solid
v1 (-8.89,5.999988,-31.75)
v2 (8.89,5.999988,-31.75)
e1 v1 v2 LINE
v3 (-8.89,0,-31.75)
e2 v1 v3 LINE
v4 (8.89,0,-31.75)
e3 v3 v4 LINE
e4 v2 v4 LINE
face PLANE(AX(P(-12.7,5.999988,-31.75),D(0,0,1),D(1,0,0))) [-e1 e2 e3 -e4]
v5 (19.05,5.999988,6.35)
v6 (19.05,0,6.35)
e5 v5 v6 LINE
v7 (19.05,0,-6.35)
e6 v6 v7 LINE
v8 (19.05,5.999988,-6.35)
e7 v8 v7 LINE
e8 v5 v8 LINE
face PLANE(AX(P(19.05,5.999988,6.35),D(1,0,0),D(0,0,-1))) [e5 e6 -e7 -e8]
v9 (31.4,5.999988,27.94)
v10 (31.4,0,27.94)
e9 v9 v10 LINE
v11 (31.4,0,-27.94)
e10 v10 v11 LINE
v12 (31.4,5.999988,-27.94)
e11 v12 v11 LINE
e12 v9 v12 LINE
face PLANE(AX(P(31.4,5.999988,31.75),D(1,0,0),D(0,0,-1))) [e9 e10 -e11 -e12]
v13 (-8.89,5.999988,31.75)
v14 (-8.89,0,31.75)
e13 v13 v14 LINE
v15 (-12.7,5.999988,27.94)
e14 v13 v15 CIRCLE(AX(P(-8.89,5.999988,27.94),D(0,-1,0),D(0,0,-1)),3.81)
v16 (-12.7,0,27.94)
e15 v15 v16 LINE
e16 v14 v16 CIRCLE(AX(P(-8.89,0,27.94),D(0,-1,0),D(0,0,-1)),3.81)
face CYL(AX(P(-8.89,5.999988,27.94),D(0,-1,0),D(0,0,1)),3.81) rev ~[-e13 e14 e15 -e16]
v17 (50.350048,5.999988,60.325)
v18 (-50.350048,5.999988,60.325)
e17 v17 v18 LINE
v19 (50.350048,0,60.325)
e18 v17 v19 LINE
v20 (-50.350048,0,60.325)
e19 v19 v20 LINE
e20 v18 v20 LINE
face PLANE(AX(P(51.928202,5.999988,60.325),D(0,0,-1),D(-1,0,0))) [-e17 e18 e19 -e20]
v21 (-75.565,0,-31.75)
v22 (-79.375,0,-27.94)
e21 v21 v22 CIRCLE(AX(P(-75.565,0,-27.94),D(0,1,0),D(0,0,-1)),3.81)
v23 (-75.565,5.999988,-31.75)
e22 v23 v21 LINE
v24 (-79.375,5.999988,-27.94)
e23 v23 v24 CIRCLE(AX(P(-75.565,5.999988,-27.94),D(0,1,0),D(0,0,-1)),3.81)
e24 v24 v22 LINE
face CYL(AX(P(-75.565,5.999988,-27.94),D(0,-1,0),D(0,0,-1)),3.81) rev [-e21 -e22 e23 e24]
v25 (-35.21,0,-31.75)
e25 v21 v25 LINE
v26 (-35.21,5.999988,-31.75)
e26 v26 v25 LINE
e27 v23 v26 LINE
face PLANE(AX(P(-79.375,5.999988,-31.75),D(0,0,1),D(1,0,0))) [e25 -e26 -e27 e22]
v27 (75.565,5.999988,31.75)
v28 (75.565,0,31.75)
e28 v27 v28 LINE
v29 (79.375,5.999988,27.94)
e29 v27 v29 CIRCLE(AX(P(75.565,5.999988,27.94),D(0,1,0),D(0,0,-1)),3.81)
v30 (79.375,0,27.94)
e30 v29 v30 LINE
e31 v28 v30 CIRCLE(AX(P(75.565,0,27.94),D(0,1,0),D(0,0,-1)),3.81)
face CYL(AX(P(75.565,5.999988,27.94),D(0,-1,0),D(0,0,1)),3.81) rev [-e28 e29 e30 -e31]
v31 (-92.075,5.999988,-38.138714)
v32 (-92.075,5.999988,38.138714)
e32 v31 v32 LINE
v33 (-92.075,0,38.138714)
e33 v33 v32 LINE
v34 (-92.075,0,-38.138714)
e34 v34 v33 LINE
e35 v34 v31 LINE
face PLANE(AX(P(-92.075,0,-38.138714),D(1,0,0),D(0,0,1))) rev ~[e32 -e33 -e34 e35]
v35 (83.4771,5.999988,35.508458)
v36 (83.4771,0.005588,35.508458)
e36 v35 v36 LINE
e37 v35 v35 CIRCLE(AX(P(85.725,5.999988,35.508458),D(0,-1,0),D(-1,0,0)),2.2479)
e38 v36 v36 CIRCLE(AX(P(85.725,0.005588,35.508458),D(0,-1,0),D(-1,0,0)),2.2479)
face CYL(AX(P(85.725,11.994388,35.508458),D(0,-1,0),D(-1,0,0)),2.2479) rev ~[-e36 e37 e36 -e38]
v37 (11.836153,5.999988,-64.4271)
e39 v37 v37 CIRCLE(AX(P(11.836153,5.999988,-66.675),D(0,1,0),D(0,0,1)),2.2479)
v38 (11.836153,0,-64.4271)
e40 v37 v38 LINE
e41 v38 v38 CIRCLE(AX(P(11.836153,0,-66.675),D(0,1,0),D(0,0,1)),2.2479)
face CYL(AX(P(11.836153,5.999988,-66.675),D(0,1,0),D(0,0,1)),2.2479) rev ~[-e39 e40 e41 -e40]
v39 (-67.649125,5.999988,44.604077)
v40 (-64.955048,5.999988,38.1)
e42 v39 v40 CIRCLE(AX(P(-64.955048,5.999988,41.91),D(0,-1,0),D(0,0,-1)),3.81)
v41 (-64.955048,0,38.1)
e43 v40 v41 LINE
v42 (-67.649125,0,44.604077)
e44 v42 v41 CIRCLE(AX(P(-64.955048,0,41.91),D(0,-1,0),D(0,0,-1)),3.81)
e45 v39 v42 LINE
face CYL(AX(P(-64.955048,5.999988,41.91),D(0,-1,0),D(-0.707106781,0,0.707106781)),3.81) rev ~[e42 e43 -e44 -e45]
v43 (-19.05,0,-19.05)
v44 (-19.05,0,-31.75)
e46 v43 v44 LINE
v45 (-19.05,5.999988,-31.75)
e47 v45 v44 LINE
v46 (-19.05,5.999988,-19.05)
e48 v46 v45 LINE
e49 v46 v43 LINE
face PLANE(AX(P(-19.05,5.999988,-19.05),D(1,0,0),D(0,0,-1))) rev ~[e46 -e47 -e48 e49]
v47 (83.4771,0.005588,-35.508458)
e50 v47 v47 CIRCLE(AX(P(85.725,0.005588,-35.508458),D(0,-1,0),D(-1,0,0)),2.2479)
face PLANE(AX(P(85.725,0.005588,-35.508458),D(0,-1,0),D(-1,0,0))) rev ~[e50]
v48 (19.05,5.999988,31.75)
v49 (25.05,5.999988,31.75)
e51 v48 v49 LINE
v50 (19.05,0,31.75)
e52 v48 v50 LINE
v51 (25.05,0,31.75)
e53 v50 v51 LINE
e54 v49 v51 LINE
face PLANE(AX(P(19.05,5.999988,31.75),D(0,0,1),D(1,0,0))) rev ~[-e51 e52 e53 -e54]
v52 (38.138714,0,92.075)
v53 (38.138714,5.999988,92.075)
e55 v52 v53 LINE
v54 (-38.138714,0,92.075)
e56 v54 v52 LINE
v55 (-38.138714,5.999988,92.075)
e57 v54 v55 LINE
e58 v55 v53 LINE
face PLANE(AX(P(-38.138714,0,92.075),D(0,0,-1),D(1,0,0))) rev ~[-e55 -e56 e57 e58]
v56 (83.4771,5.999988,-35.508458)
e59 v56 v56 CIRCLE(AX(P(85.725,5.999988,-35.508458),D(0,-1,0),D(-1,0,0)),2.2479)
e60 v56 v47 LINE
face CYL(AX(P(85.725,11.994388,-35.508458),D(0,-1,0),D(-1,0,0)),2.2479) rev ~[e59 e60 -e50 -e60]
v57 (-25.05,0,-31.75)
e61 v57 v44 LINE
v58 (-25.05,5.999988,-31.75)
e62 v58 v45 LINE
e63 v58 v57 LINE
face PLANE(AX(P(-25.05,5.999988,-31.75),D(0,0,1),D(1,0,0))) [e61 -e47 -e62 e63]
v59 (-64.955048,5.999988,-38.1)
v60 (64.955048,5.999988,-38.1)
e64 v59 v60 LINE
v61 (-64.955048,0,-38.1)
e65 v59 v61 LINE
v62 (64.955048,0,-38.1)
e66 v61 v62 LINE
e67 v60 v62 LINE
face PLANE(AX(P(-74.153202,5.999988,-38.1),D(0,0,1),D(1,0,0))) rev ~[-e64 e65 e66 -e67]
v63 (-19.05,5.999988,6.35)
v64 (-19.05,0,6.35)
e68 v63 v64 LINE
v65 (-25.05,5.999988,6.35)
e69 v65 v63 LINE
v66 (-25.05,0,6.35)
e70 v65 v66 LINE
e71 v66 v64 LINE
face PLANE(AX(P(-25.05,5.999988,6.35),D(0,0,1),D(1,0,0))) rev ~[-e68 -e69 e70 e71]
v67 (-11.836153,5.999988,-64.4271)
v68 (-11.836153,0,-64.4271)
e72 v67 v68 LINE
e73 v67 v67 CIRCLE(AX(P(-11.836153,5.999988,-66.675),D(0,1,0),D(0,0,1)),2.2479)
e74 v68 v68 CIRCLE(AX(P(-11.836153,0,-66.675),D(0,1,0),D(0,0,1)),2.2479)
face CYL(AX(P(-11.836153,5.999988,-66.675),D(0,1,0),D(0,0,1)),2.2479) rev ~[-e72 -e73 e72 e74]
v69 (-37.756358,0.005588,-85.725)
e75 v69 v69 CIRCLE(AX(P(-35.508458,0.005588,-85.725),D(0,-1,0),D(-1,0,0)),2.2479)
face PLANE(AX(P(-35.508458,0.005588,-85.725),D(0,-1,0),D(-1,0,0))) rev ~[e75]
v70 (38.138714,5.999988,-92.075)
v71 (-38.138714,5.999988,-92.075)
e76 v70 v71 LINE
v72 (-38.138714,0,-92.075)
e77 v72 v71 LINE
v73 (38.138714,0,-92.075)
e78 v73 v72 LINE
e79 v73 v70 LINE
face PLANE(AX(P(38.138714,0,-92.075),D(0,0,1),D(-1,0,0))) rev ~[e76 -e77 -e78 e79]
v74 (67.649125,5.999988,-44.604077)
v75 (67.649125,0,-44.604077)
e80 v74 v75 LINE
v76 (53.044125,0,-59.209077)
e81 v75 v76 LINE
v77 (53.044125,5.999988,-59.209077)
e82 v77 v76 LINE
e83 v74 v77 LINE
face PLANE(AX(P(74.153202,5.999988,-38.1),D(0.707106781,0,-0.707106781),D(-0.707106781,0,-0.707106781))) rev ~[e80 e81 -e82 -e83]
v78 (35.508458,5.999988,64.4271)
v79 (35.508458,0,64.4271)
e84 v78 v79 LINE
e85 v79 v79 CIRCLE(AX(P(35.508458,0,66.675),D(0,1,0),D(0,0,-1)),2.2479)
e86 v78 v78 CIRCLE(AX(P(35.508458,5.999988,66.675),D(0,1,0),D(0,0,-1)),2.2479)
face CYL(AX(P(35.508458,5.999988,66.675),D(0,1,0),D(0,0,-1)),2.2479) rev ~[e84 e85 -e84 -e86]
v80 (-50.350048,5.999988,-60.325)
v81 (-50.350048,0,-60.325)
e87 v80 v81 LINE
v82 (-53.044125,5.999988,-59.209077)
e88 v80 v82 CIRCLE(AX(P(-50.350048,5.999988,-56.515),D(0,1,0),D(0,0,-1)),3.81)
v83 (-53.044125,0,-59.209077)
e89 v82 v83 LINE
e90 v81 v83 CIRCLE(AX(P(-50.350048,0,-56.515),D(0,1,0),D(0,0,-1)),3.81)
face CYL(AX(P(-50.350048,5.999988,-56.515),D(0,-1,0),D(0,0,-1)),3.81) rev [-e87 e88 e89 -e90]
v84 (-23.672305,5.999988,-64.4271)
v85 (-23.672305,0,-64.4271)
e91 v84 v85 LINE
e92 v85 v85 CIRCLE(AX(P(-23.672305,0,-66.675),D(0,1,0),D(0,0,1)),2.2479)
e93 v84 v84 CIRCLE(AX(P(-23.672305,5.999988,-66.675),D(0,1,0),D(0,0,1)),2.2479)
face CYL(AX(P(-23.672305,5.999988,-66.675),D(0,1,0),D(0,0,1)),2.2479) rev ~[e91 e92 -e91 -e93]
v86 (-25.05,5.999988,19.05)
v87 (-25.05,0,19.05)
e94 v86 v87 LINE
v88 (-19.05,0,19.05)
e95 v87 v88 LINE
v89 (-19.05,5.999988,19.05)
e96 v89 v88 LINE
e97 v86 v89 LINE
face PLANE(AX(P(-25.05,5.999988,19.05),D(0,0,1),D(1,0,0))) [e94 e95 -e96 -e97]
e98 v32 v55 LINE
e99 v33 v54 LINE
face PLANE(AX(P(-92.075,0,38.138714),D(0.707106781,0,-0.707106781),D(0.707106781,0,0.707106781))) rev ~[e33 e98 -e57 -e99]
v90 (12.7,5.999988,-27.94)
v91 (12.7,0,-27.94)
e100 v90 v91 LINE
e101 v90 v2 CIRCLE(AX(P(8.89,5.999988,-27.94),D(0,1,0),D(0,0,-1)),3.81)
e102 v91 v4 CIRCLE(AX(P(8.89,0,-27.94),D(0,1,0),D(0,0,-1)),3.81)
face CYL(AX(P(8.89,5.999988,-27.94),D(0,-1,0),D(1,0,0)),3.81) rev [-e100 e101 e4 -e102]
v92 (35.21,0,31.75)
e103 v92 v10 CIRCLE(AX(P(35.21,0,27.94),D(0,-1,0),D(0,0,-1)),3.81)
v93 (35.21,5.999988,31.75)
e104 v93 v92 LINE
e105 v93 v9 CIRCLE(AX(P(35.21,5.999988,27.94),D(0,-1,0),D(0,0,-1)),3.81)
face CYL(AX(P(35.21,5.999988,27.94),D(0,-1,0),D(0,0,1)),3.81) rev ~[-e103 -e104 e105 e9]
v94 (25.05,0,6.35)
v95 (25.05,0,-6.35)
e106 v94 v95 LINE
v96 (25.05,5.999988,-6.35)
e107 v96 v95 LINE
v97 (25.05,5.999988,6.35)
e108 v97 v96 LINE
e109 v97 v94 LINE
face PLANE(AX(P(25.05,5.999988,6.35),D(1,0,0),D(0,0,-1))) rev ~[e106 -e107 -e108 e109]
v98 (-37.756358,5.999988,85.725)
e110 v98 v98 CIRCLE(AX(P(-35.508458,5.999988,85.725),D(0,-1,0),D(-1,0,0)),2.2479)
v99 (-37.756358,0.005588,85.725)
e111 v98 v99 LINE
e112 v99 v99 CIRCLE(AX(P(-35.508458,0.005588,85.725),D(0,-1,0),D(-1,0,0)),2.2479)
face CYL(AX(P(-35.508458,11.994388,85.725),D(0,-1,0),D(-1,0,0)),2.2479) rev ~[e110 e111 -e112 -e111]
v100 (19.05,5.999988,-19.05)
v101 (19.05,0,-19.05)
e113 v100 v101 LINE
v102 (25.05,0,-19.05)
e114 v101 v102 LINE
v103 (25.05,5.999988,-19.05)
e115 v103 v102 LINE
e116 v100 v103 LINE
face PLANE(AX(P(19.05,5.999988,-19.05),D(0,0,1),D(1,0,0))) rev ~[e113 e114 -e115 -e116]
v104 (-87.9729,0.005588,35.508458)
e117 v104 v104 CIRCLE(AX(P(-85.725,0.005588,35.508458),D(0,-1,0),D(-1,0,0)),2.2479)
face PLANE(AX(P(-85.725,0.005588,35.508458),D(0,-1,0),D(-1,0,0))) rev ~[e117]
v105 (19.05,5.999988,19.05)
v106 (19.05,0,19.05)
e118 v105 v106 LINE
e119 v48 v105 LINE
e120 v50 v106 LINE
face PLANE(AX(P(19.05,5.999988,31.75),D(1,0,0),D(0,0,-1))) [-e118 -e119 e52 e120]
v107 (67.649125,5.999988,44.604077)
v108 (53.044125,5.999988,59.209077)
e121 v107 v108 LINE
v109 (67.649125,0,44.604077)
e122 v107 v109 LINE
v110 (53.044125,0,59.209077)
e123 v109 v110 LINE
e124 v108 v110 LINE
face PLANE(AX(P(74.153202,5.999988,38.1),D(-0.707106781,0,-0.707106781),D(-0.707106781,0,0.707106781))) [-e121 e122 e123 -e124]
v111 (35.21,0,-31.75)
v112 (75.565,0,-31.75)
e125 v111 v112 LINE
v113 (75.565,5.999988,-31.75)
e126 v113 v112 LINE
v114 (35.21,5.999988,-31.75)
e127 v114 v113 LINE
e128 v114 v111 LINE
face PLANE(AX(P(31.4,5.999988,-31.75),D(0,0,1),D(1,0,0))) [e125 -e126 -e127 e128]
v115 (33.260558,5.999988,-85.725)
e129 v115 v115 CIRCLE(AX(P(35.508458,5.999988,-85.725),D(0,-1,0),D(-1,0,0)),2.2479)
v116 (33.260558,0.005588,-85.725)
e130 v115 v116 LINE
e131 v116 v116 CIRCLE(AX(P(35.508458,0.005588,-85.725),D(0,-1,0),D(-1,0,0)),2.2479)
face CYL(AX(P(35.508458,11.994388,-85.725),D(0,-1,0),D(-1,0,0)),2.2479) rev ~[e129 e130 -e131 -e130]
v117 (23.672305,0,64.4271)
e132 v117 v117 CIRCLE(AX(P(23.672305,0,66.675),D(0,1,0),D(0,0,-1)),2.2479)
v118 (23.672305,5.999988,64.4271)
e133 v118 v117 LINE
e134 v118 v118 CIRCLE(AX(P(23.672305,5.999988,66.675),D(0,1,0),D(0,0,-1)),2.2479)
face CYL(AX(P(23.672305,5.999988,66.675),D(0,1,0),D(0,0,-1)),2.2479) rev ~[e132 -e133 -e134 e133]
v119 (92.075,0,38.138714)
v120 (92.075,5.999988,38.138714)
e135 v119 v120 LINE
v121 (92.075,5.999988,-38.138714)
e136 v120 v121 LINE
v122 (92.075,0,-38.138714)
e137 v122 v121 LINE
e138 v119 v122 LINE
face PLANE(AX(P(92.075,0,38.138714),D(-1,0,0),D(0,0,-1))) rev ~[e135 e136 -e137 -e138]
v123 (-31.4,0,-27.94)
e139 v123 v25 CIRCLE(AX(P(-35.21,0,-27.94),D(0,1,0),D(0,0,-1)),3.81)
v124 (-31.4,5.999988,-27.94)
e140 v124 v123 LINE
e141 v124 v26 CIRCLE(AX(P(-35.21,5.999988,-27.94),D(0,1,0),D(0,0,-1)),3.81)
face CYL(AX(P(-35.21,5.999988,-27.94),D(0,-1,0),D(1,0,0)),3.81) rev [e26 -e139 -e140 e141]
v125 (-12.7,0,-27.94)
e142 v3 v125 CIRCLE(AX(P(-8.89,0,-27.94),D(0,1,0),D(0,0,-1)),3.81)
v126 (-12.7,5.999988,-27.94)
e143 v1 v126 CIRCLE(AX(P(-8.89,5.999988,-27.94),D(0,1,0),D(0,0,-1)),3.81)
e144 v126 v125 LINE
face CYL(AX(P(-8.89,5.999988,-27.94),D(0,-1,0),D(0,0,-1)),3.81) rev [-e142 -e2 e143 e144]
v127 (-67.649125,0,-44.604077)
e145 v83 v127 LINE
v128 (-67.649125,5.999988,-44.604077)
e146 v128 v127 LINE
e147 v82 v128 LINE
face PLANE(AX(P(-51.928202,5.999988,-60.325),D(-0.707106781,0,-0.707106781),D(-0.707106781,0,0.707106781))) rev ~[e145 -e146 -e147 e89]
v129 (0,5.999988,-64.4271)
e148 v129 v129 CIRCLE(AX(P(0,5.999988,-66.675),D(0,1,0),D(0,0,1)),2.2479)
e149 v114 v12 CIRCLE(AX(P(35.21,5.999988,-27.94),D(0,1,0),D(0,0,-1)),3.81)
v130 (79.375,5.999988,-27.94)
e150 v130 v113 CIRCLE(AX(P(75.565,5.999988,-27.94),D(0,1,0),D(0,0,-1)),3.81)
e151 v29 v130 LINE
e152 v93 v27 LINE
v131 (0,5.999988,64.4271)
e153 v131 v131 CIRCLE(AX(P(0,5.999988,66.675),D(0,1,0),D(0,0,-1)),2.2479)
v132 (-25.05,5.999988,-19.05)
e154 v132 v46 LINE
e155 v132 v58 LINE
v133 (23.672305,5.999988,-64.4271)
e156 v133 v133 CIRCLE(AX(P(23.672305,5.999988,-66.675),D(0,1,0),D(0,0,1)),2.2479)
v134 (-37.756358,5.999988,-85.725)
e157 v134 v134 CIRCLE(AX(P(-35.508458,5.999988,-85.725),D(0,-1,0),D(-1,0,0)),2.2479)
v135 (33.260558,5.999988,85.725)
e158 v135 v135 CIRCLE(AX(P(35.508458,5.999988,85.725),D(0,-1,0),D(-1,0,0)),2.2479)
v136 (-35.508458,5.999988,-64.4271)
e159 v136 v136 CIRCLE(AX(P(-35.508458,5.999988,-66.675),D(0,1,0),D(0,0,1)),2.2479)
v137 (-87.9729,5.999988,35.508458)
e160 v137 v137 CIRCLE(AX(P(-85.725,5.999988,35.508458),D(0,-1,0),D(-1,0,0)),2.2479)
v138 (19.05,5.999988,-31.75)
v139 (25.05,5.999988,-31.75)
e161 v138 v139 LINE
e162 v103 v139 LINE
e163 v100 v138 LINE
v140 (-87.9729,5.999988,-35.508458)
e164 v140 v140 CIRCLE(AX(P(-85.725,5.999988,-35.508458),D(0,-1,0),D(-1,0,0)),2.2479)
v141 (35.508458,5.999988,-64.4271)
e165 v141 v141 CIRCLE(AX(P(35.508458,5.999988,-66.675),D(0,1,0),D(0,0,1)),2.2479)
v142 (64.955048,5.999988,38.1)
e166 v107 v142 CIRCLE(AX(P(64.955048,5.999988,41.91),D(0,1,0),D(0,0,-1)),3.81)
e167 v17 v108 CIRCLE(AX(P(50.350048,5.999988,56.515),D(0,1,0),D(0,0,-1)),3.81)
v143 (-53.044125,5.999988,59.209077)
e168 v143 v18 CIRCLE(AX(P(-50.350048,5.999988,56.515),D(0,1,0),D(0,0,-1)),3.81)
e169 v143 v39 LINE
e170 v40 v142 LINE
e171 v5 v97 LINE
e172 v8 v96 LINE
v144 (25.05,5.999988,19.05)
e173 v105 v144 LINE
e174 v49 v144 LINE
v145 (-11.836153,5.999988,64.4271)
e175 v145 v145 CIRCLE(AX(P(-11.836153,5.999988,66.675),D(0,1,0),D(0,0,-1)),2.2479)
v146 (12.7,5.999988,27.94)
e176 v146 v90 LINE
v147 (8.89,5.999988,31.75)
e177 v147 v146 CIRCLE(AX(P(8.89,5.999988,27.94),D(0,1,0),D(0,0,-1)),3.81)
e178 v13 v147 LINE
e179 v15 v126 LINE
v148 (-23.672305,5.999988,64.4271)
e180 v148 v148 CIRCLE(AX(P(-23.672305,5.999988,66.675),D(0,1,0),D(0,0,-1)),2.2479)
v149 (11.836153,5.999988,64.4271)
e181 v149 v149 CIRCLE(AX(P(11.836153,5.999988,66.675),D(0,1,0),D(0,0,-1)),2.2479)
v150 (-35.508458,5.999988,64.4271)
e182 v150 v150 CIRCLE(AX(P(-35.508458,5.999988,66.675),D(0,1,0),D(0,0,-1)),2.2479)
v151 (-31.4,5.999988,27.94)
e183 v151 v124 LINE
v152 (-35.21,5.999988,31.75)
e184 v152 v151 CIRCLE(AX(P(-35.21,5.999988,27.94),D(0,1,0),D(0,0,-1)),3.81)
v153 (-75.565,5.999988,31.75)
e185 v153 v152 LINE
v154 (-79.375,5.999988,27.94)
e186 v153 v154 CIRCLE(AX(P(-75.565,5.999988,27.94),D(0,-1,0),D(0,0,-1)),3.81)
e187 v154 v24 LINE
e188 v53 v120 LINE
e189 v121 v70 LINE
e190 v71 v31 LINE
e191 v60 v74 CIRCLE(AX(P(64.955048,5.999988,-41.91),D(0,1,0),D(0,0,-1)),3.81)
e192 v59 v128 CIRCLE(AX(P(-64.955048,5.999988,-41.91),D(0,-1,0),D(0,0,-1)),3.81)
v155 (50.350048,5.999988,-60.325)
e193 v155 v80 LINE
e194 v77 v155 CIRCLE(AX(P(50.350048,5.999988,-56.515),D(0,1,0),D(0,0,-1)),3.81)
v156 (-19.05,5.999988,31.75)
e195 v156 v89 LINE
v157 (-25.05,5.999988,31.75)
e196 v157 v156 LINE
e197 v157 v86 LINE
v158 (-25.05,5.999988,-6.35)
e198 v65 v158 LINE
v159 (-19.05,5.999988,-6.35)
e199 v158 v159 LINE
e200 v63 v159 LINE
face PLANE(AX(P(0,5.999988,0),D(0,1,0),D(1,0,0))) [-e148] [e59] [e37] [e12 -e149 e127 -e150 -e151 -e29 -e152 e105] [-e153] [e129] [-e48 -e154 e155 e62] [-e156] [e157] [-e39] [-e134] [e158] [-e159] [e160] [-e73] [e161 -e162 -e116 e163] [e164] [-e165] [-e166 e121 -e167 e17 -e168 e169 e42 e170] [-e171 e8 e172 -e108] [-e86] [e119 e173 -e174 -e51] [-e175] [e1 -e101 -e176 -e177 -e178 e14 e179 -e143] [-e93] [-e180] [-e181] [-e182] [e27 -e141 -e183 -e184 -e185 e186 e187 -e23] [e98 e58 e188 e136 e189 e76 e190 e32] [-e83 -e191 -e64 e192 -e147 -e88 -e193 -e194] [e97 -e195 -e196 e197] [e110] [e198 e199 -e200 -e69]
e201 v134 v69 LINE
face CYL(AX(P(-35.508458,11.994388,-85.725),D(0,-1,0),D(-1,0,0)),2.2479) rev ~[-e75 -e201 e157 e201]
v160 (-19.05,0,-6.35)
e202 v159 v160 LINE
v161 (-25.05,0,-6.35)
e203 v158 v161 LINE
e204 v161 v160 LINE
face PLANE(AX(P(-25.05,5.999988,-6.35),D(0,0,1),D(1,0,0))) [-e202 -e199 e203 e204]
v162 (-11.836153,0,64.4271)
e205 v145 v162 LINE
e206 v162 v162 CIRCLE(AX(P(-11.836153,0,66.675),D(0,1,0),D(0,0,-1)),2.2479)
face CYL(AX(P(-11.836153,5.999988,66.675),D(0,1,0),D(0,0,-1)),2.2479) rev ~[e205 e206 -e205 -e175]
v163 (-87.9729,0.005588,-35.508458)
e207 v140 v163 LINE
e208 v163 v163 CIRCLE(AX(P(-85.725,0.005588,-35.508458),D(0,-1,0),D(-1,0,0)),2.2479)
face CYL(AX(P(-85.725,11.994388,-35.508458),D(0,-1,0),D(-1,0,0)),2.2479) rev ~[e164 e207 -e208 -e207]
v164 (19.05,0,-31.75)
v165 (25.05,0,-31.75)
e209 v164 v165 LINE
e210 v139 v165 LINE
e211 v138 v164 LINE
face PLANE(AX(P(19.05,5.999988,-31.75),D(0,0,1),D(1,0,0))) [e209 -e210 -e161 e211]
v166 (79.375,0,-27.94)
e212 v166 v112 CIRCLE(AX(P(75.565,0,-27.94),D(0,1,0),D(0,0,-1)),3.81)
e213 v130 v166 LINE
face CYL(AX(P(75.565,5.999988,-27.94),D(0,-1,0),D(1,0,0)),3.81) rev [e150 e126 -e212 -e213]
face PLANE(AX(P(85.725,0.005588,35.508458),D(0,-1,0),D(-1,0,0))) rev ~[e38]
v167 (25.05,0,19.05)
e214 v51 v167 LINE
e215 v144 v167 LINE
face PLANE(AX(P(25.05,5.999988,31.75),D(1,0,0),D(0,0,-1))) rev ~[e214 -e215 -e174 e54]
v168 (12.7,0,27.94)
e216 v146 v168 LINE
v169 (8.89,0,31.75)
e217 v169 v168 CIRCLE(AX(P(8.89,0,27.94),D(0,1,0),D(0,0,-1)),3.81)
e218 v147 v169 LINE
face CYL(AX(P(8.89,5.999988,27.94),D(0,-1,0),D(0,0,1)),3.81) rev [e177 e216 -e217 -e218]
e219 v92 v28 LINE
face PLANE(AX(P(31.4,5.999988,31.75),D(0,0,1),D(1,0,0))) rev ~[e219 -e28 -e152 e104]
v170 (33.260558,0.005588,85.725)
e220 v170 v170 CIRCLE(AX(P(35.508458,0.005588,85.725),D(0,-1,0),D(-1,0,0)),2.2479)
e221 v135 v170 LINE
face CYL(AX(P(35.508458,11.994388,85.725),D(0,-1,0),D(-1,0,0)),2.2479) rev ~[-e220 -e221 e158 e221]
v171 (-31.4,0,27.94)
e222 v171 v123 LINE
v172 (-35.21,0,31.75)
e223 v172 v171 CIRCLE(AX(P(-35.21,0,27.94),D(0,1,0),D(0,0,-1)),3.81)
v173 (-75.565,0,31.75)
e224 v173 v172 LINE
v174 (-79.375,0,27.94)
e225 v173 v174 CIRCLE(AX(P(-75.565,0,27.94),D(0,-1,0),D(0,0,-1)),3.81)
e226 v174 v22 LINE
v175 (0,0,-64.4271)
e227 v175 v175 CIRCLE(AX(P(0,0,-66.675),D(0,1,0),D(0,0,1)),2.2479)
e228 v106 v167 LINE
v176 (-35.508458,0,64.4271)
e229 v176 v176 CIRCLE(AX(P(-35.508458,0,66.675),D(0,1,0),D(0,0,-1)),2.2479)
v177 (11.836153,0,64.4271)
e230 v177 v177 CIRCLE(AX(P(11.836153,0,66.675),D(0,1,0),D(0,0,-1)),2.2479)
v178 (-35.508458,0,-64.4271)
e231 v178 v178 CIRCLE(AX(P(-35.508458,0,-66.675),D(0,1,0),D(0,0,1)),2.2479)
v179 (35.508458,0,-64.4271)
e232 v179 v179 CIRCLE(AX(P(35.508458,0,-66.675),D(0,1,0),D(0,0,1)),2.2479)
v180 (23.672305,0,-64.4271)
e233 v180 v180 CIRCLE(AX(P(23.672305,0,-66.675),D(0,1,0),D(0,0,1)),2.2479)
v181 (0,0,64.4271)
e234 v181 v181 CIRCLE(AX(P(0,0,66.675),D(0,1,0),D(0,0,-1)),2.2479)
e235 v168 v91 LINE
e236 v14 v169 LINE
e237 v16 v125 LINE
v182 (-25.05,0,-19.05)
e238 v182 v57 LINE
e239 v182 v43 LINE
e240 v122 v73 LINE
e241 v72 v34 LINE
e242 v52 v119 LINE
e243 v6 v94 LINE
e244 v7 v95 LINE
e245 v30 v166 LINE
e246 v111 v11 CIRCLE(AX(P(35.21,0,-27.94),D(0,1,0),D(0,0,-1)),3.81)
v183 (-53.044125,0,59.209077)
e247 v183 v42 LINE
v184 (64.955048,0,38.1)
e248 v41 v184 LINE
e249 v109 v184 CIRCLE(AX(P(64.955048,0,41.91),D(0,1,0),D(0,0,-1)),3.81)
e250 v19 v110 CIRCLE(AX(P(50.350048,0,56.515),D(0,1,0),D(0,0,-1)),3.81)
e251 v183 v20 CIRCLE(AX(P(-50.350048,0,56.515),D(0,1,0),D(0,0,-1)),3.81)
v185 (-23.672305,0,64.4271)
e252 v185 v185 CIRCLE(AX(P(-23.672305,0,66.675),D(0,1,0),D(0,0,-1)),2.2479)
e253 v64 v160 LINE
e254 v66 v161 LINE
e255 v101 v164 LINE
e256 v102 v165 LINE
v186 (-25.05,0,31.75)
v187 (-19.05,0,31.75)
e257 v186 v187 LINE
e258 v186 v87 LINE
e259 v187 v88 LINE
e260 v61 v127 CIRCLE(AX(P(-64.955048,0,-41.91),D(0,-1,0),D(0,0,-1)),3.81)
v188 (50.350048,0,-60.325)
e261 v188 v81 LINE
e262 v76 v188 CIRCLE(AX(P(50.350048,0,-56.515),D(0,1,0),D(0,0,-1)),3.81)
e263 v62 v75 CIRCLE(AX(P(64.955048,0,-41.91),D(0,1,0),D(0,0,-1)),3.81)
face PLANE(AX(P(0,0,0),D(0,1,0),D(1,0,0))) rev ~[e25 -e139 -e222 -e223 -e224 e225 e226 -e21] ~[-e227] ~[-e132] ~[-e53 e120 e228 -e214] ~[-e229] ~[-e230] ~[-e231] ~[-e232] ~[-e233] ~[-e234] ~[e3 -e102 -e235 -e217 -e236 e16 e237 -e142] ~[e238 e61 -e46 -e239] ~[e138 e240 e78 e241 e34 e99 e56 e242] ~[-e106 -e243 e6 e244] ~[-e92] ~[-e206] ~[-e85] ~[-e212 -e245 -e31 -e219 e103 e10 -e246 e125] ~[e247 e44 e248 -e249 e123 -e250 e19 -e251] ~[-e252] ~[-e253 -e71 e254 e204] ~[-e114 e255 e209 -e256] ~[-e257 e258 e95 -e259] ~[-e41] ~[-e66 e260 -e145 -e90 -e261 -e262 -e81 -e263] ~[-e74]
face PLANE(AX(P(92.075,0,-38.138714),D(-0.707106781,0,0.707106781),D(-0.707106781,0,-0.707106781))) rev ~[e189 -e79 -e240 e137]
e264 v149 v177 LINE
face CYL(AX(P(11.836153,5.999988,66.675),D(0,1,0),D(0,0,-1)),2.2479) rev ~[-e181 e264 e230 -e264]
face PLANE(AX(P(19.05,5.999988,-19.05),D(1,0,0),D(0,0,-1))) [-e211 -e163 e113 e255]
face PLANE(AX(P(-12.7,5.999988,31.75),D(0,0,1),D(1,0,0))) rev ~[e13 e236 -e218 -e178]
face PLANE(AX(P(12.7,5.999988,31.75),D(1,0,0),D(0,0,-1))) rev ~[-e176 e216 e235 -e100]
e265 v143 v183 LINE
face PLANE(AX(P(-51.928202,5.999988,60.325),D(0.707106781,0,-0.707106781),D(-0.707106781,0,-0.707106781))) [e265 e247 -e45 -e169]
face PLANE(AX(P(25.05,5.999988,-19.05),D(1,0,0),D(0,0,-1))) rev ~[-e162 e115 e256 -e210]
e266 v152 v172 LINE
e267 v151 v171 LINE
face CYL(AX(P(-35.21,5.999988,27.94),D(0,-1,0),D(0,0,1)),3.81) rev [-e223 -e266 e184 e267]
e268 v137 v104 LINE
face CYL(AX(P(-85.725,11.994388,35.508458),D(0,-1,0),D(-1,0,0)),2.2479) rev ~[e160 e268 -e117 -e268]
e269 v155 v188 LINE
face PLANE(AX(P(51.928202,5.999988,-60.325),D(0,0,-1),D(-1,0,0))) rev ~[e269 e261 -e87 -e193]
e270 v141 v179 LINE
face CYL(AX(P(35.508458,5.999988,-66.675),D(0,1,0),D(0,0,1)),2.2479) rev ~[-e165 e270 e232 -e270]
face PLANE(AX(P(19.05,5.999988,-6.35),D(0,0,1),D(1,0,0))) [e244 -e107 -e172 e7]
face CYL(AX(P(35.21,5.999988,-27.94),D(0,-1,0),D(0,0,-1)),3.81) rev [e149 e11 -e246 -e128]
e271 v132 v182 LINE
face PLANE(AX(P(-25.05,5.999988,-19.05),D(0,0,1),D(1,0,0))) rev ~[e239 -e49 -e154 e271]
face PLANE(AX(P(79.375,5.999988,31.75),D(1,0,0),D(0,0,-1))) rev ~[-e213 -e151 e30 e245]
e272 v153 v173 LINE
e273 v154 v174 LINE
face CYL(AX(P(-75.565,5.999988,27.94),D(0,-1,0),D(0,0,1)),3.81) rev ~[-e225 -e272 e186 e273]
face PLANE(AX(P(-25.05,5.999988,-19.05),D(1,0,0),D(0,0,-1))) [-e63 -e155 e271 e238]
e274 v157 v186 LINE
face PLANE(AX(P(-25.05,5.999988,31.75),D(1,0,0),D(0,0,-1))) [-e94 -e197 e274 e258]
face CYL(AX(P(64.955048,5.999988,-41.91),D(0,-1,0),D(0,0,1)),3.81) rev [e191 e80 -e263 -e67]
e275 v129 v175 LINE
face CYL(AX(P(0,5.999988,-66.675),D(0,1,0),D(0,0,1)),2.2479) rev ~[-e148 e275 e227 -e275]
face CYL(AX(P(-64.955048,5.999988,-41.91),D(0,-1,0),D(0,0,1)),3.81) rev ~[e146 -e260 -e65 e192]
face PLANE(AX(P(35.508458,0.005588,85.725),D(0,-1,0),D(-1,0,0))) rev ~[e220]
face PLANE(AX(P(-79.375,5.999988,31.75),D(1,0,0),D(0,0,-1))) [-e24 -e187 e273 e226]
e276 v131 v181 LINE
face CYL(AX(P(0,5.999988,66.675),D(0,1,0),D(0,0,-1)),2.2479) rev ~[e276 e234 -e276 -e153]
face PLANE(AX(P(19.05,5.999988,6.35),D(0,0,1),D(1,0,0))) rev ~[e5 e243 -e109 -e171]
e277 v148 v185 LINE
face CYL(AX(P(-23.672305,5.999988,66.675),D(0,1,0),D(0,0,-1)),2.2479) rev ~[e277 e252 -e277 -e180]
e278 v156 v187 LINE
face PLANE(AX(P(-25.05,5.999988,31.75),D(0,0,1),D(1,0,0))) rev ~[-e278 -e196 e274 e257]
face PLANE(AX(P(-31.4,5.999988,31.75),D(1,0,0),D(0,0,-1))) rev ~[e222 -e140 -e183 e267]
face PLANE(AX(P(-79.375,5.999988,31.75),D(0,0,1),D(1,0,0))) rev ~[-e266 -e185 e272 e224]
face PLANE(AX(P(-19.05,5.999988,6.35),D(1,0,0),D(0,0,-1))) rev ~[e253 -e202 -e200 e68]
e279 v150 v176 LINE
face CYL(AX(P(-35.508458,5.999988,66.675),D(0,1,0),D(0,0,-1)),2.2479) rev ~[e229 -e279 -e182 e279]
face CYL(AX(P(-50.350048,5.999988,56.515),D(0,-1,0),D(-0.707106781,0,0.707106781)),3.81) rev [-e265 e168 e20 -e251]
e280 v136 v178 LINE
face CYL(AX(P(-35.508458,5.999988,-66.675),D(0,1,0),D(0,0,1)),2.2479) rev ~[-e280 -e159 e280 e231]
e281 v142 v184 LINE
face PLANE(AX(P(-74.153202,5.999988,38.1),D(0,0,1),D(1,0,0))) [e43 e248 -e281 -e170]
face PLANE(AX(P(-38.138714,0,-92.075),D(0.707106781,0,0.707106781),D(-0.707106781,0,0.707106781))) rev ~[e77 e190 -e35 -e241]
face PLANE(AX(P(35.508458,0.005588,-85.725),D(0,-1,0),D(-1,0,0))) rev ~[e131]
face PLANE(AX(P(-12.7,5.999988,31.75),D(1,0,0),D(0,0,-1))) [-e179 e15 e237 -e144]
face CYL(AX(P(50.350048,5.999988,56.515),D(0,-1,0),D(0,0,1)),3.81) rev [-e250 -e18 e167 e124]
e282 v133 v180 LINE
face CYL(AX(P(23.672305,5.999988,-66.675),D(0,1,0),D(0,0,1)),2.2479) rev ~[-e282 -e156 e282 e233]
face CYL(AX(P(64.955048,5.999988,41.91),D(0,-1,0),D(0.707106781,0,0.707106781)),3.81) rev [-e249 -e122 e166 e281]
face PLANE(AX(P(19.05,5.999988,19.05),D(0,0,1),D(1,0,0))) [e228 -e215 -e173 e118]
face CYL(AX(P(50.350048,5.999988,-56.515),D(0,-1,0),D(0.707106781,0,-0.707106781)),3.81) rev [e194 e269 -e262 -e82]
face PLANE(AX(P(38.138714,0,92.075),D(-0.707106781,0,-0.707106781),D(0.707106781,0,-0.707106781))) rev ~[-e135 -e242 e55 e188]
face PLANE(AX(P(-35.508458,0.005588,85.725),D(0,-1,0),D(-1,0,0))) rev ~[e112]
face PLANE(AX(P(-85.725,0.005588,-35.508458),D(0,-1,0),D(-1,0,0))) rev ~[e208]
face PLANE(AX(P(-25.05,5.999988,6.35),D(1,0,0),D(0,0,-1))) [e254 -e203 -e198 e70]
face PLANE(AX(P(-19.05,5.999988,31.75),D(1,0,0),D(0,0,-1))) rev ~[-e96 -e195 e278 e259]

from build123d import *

# Parameters (mm, degrees)
BASE_DEPTH                     = 5.999988
MOUNTING_HOLES_D               = 4.4958
MOUNTING_HOLES_DEPTH           = 5.9944
SKETCH5_W                      = 6
SKETCH5_H                      = 12.7
F_4_BAR_MOUNT_DEPTH            = 131.351874194
SKETCH8_R                      = 2.2479
LIMIT_SWITCH_MOUNT_HOLES_DEPTH = 131.351874194
LIM_SW_CIRC_PATTERN_COUNT      = 2
SKETCH9_W                      = 25.4
SKETCH9_H                      = 63.5
SKETCH9_W_2                    = 47.975
WIRE_HOLES_DEPTH               = 131.351874194
FILLET1_R                      = 3.81


with BuildPart() as part:
    # Sketch1 → Base (new body)
    with BuildSketch(Plane(origin=(0, 0, 0), x_dir=(1, 0, 0), z_dir=(0, 1, 0))):
        Polygon((-38.138713756, 92.075), (-92.075, 38.138713756), (-92.075, -38.138713756), (-38.138713756, -92.075), (38.138713756, -92.075), (92.075, -38.138713756), (92.075, 38.138713756), (38.138713756, 92.075), align=None)
    extrude(amount=BASE_DEPTH)

    # Mounting holes
    with Locations(Plane(origin=(0, 5.999988, 0), x_dir=(1, 0, 0), z_dir=(0, 1, 0))):
        with Locations((-35.508457634, 85.725), (35.508457634, 85.725), (85.725, 35.508457634), (85.725, -35.508457634), (35.508457634, -85.725), (-35.508457634, -85.725), (-85.725, -35.508457634), (-85.725, 35.508457634)):
            Hole(MOUNTING_HOLES_D / 2, depth=MOUNTING_HOLES_DEPTH)

    # Sketch5 → 4-bar mount (cut, through all)
    with BuildSketch(Plane(origin=(0, 5.999988, 0), x_dir=(1, 0, 0), z_dir=(0, 1, 0))):
        with Locations((-22.05, 25.4)):
            Rectangle(SKETCH5_W, SKETCH5_H)
        with Locations((-22.05, -25.4)):
            Rectangle(SKETCH5_W, SKETCH5_H)
        with Locations((-22.05, 0)):
            Rectangle(SKETCH5_W, SKETCH5_H)
        with Locations((22.05, 0)):
            Rectangle(SKETCH5_W, SKETCH5_H)
        with Locations((22.05, -25.4)):
            Rectangle(SKETCH5_W, SKETCH5_H)
        with Locations((22.05, 25.4)):
            Rectangle(SKETCH5_W, SKETCH5_H)
    extrude(amount=-F_4_BAR_MOUNT_DEPTH, mode=Mode.SUBTRACT)

    # Sketch8 → limit switch mount holes (cut, through all)
    with BuildSketch(Plane(origin=(0, 5.999988, 0), x_dir=(1, 0, 0), z_dir=(0, 1, 0))):
        with Locations((-35.508457634, 66.675)):
            Circle(SKETCH8_R)
        with Locations((-23.67230509, 66.675)):
            Circle(SKETCH8_R)
        with Locations((-11.836152545, 66.675)):
            Circle(SKETCH8_R)
        with Locations((0, 66.675)):
            Circle(SKETCH8_R)
        with Locations((11.836152545, 66.675)):
            Circle(SKETCH8_R)
        with Locations((23.67230509, 66.675)):
            Circle(SKETCH8_R)
        with Locations((35.508457634, 66.675)):
            Circle(SKETCH8_R)
    limit_switch_mount_holes = extrude(amount=-LIMIT_SWITCH_MOUNT_HOLES_DEPTH, mode=Mode.SUBTRACT)

    # lim sw circ pattern: limit switch mount holes ×2 about axis
    lim_sw_circ_pattern_axis = Axis((0, 6.29412, 0), (0, -1, 0))
    for i in range(1, LIM_SW_CIRC_PATTERN_COUNT):
        add(limit_switch_mount_holes.rotate(lim_sw_circ_pattern_axis, i * 360 / LIM_SW_CIRC_PATTERN_COUNT), mode=Mode.SUBTRACT)

    # Sketch9 → Wire holes (cut, through all)
    with BuildSketch(Plane(origin=(0, 5.999988, 0), x_dir=(1, 0, 0), z_dir=(0, 1, 0))):
        Rectangle(SKETCH9_W, SKETCH9_H)
        with Locations((-55.3875, 0)):
            Rectangle(SKETCH9_W_2, SKETCH9_H)
        with Locations((55.3875, 0)):
            Rectangle(SKETCH9_W_2, SKETCH9_H)
        Polygon((-74.153201513, 38.1), (74.153201513, 38.1), (51.928201513, 60.325), (-51.928201513, 60.325), align=None)
        Polygon((-74.153201513, -38.1), (74.153201513, -38.1), (51.928201513, -60.325), (-51.928201513, -60.325), align=None)
    extrude(amount=-WIRE_HOLES_DEPTH, mode=Mode.SUBTRACT)

    # Fillet1
    fillet1_edges = [part.edges().sort_by_distance(p)[0] for p in [
        (12.7, 2.999994, 31.75),
        (-12.7, 2.999994, 31.75),
        (-31.4, 2.999994, 31.75),
        (74.153201513, 2.999994, -38.1),
        (79.375, 2.999994, 31.75),
        (51.928201513, 2.999994, 60.325),
        (-51.928201513, 2.999994, 60.325),
        (31.4, 2.999994, 31.75),
        (-79.375, 2.999994, 31.75),
        (-74.153201513, 2.999994, -38.1),
        (-74.153201513, 2.999994, 38.1),
        (-79.375, 2.999994, -31.75),
        (-12.7, 2.999994, -31.75),
        (31.4, 2.999994, -31.75),
        (-51.928201513, 2.999994, -60.325),
        (74.153201513, 2.999994, 38.1),
        (79.375, 2.999994, -31.75),
        (51.928201513, 2.999994, -60.325),
        (12.7, 2.999994, -31.75),
        (-31.4, 2.999994, -31.75),
    ]]
    fillet(fillet1_edges, radius=FILLET1_R)


solid = part.part
